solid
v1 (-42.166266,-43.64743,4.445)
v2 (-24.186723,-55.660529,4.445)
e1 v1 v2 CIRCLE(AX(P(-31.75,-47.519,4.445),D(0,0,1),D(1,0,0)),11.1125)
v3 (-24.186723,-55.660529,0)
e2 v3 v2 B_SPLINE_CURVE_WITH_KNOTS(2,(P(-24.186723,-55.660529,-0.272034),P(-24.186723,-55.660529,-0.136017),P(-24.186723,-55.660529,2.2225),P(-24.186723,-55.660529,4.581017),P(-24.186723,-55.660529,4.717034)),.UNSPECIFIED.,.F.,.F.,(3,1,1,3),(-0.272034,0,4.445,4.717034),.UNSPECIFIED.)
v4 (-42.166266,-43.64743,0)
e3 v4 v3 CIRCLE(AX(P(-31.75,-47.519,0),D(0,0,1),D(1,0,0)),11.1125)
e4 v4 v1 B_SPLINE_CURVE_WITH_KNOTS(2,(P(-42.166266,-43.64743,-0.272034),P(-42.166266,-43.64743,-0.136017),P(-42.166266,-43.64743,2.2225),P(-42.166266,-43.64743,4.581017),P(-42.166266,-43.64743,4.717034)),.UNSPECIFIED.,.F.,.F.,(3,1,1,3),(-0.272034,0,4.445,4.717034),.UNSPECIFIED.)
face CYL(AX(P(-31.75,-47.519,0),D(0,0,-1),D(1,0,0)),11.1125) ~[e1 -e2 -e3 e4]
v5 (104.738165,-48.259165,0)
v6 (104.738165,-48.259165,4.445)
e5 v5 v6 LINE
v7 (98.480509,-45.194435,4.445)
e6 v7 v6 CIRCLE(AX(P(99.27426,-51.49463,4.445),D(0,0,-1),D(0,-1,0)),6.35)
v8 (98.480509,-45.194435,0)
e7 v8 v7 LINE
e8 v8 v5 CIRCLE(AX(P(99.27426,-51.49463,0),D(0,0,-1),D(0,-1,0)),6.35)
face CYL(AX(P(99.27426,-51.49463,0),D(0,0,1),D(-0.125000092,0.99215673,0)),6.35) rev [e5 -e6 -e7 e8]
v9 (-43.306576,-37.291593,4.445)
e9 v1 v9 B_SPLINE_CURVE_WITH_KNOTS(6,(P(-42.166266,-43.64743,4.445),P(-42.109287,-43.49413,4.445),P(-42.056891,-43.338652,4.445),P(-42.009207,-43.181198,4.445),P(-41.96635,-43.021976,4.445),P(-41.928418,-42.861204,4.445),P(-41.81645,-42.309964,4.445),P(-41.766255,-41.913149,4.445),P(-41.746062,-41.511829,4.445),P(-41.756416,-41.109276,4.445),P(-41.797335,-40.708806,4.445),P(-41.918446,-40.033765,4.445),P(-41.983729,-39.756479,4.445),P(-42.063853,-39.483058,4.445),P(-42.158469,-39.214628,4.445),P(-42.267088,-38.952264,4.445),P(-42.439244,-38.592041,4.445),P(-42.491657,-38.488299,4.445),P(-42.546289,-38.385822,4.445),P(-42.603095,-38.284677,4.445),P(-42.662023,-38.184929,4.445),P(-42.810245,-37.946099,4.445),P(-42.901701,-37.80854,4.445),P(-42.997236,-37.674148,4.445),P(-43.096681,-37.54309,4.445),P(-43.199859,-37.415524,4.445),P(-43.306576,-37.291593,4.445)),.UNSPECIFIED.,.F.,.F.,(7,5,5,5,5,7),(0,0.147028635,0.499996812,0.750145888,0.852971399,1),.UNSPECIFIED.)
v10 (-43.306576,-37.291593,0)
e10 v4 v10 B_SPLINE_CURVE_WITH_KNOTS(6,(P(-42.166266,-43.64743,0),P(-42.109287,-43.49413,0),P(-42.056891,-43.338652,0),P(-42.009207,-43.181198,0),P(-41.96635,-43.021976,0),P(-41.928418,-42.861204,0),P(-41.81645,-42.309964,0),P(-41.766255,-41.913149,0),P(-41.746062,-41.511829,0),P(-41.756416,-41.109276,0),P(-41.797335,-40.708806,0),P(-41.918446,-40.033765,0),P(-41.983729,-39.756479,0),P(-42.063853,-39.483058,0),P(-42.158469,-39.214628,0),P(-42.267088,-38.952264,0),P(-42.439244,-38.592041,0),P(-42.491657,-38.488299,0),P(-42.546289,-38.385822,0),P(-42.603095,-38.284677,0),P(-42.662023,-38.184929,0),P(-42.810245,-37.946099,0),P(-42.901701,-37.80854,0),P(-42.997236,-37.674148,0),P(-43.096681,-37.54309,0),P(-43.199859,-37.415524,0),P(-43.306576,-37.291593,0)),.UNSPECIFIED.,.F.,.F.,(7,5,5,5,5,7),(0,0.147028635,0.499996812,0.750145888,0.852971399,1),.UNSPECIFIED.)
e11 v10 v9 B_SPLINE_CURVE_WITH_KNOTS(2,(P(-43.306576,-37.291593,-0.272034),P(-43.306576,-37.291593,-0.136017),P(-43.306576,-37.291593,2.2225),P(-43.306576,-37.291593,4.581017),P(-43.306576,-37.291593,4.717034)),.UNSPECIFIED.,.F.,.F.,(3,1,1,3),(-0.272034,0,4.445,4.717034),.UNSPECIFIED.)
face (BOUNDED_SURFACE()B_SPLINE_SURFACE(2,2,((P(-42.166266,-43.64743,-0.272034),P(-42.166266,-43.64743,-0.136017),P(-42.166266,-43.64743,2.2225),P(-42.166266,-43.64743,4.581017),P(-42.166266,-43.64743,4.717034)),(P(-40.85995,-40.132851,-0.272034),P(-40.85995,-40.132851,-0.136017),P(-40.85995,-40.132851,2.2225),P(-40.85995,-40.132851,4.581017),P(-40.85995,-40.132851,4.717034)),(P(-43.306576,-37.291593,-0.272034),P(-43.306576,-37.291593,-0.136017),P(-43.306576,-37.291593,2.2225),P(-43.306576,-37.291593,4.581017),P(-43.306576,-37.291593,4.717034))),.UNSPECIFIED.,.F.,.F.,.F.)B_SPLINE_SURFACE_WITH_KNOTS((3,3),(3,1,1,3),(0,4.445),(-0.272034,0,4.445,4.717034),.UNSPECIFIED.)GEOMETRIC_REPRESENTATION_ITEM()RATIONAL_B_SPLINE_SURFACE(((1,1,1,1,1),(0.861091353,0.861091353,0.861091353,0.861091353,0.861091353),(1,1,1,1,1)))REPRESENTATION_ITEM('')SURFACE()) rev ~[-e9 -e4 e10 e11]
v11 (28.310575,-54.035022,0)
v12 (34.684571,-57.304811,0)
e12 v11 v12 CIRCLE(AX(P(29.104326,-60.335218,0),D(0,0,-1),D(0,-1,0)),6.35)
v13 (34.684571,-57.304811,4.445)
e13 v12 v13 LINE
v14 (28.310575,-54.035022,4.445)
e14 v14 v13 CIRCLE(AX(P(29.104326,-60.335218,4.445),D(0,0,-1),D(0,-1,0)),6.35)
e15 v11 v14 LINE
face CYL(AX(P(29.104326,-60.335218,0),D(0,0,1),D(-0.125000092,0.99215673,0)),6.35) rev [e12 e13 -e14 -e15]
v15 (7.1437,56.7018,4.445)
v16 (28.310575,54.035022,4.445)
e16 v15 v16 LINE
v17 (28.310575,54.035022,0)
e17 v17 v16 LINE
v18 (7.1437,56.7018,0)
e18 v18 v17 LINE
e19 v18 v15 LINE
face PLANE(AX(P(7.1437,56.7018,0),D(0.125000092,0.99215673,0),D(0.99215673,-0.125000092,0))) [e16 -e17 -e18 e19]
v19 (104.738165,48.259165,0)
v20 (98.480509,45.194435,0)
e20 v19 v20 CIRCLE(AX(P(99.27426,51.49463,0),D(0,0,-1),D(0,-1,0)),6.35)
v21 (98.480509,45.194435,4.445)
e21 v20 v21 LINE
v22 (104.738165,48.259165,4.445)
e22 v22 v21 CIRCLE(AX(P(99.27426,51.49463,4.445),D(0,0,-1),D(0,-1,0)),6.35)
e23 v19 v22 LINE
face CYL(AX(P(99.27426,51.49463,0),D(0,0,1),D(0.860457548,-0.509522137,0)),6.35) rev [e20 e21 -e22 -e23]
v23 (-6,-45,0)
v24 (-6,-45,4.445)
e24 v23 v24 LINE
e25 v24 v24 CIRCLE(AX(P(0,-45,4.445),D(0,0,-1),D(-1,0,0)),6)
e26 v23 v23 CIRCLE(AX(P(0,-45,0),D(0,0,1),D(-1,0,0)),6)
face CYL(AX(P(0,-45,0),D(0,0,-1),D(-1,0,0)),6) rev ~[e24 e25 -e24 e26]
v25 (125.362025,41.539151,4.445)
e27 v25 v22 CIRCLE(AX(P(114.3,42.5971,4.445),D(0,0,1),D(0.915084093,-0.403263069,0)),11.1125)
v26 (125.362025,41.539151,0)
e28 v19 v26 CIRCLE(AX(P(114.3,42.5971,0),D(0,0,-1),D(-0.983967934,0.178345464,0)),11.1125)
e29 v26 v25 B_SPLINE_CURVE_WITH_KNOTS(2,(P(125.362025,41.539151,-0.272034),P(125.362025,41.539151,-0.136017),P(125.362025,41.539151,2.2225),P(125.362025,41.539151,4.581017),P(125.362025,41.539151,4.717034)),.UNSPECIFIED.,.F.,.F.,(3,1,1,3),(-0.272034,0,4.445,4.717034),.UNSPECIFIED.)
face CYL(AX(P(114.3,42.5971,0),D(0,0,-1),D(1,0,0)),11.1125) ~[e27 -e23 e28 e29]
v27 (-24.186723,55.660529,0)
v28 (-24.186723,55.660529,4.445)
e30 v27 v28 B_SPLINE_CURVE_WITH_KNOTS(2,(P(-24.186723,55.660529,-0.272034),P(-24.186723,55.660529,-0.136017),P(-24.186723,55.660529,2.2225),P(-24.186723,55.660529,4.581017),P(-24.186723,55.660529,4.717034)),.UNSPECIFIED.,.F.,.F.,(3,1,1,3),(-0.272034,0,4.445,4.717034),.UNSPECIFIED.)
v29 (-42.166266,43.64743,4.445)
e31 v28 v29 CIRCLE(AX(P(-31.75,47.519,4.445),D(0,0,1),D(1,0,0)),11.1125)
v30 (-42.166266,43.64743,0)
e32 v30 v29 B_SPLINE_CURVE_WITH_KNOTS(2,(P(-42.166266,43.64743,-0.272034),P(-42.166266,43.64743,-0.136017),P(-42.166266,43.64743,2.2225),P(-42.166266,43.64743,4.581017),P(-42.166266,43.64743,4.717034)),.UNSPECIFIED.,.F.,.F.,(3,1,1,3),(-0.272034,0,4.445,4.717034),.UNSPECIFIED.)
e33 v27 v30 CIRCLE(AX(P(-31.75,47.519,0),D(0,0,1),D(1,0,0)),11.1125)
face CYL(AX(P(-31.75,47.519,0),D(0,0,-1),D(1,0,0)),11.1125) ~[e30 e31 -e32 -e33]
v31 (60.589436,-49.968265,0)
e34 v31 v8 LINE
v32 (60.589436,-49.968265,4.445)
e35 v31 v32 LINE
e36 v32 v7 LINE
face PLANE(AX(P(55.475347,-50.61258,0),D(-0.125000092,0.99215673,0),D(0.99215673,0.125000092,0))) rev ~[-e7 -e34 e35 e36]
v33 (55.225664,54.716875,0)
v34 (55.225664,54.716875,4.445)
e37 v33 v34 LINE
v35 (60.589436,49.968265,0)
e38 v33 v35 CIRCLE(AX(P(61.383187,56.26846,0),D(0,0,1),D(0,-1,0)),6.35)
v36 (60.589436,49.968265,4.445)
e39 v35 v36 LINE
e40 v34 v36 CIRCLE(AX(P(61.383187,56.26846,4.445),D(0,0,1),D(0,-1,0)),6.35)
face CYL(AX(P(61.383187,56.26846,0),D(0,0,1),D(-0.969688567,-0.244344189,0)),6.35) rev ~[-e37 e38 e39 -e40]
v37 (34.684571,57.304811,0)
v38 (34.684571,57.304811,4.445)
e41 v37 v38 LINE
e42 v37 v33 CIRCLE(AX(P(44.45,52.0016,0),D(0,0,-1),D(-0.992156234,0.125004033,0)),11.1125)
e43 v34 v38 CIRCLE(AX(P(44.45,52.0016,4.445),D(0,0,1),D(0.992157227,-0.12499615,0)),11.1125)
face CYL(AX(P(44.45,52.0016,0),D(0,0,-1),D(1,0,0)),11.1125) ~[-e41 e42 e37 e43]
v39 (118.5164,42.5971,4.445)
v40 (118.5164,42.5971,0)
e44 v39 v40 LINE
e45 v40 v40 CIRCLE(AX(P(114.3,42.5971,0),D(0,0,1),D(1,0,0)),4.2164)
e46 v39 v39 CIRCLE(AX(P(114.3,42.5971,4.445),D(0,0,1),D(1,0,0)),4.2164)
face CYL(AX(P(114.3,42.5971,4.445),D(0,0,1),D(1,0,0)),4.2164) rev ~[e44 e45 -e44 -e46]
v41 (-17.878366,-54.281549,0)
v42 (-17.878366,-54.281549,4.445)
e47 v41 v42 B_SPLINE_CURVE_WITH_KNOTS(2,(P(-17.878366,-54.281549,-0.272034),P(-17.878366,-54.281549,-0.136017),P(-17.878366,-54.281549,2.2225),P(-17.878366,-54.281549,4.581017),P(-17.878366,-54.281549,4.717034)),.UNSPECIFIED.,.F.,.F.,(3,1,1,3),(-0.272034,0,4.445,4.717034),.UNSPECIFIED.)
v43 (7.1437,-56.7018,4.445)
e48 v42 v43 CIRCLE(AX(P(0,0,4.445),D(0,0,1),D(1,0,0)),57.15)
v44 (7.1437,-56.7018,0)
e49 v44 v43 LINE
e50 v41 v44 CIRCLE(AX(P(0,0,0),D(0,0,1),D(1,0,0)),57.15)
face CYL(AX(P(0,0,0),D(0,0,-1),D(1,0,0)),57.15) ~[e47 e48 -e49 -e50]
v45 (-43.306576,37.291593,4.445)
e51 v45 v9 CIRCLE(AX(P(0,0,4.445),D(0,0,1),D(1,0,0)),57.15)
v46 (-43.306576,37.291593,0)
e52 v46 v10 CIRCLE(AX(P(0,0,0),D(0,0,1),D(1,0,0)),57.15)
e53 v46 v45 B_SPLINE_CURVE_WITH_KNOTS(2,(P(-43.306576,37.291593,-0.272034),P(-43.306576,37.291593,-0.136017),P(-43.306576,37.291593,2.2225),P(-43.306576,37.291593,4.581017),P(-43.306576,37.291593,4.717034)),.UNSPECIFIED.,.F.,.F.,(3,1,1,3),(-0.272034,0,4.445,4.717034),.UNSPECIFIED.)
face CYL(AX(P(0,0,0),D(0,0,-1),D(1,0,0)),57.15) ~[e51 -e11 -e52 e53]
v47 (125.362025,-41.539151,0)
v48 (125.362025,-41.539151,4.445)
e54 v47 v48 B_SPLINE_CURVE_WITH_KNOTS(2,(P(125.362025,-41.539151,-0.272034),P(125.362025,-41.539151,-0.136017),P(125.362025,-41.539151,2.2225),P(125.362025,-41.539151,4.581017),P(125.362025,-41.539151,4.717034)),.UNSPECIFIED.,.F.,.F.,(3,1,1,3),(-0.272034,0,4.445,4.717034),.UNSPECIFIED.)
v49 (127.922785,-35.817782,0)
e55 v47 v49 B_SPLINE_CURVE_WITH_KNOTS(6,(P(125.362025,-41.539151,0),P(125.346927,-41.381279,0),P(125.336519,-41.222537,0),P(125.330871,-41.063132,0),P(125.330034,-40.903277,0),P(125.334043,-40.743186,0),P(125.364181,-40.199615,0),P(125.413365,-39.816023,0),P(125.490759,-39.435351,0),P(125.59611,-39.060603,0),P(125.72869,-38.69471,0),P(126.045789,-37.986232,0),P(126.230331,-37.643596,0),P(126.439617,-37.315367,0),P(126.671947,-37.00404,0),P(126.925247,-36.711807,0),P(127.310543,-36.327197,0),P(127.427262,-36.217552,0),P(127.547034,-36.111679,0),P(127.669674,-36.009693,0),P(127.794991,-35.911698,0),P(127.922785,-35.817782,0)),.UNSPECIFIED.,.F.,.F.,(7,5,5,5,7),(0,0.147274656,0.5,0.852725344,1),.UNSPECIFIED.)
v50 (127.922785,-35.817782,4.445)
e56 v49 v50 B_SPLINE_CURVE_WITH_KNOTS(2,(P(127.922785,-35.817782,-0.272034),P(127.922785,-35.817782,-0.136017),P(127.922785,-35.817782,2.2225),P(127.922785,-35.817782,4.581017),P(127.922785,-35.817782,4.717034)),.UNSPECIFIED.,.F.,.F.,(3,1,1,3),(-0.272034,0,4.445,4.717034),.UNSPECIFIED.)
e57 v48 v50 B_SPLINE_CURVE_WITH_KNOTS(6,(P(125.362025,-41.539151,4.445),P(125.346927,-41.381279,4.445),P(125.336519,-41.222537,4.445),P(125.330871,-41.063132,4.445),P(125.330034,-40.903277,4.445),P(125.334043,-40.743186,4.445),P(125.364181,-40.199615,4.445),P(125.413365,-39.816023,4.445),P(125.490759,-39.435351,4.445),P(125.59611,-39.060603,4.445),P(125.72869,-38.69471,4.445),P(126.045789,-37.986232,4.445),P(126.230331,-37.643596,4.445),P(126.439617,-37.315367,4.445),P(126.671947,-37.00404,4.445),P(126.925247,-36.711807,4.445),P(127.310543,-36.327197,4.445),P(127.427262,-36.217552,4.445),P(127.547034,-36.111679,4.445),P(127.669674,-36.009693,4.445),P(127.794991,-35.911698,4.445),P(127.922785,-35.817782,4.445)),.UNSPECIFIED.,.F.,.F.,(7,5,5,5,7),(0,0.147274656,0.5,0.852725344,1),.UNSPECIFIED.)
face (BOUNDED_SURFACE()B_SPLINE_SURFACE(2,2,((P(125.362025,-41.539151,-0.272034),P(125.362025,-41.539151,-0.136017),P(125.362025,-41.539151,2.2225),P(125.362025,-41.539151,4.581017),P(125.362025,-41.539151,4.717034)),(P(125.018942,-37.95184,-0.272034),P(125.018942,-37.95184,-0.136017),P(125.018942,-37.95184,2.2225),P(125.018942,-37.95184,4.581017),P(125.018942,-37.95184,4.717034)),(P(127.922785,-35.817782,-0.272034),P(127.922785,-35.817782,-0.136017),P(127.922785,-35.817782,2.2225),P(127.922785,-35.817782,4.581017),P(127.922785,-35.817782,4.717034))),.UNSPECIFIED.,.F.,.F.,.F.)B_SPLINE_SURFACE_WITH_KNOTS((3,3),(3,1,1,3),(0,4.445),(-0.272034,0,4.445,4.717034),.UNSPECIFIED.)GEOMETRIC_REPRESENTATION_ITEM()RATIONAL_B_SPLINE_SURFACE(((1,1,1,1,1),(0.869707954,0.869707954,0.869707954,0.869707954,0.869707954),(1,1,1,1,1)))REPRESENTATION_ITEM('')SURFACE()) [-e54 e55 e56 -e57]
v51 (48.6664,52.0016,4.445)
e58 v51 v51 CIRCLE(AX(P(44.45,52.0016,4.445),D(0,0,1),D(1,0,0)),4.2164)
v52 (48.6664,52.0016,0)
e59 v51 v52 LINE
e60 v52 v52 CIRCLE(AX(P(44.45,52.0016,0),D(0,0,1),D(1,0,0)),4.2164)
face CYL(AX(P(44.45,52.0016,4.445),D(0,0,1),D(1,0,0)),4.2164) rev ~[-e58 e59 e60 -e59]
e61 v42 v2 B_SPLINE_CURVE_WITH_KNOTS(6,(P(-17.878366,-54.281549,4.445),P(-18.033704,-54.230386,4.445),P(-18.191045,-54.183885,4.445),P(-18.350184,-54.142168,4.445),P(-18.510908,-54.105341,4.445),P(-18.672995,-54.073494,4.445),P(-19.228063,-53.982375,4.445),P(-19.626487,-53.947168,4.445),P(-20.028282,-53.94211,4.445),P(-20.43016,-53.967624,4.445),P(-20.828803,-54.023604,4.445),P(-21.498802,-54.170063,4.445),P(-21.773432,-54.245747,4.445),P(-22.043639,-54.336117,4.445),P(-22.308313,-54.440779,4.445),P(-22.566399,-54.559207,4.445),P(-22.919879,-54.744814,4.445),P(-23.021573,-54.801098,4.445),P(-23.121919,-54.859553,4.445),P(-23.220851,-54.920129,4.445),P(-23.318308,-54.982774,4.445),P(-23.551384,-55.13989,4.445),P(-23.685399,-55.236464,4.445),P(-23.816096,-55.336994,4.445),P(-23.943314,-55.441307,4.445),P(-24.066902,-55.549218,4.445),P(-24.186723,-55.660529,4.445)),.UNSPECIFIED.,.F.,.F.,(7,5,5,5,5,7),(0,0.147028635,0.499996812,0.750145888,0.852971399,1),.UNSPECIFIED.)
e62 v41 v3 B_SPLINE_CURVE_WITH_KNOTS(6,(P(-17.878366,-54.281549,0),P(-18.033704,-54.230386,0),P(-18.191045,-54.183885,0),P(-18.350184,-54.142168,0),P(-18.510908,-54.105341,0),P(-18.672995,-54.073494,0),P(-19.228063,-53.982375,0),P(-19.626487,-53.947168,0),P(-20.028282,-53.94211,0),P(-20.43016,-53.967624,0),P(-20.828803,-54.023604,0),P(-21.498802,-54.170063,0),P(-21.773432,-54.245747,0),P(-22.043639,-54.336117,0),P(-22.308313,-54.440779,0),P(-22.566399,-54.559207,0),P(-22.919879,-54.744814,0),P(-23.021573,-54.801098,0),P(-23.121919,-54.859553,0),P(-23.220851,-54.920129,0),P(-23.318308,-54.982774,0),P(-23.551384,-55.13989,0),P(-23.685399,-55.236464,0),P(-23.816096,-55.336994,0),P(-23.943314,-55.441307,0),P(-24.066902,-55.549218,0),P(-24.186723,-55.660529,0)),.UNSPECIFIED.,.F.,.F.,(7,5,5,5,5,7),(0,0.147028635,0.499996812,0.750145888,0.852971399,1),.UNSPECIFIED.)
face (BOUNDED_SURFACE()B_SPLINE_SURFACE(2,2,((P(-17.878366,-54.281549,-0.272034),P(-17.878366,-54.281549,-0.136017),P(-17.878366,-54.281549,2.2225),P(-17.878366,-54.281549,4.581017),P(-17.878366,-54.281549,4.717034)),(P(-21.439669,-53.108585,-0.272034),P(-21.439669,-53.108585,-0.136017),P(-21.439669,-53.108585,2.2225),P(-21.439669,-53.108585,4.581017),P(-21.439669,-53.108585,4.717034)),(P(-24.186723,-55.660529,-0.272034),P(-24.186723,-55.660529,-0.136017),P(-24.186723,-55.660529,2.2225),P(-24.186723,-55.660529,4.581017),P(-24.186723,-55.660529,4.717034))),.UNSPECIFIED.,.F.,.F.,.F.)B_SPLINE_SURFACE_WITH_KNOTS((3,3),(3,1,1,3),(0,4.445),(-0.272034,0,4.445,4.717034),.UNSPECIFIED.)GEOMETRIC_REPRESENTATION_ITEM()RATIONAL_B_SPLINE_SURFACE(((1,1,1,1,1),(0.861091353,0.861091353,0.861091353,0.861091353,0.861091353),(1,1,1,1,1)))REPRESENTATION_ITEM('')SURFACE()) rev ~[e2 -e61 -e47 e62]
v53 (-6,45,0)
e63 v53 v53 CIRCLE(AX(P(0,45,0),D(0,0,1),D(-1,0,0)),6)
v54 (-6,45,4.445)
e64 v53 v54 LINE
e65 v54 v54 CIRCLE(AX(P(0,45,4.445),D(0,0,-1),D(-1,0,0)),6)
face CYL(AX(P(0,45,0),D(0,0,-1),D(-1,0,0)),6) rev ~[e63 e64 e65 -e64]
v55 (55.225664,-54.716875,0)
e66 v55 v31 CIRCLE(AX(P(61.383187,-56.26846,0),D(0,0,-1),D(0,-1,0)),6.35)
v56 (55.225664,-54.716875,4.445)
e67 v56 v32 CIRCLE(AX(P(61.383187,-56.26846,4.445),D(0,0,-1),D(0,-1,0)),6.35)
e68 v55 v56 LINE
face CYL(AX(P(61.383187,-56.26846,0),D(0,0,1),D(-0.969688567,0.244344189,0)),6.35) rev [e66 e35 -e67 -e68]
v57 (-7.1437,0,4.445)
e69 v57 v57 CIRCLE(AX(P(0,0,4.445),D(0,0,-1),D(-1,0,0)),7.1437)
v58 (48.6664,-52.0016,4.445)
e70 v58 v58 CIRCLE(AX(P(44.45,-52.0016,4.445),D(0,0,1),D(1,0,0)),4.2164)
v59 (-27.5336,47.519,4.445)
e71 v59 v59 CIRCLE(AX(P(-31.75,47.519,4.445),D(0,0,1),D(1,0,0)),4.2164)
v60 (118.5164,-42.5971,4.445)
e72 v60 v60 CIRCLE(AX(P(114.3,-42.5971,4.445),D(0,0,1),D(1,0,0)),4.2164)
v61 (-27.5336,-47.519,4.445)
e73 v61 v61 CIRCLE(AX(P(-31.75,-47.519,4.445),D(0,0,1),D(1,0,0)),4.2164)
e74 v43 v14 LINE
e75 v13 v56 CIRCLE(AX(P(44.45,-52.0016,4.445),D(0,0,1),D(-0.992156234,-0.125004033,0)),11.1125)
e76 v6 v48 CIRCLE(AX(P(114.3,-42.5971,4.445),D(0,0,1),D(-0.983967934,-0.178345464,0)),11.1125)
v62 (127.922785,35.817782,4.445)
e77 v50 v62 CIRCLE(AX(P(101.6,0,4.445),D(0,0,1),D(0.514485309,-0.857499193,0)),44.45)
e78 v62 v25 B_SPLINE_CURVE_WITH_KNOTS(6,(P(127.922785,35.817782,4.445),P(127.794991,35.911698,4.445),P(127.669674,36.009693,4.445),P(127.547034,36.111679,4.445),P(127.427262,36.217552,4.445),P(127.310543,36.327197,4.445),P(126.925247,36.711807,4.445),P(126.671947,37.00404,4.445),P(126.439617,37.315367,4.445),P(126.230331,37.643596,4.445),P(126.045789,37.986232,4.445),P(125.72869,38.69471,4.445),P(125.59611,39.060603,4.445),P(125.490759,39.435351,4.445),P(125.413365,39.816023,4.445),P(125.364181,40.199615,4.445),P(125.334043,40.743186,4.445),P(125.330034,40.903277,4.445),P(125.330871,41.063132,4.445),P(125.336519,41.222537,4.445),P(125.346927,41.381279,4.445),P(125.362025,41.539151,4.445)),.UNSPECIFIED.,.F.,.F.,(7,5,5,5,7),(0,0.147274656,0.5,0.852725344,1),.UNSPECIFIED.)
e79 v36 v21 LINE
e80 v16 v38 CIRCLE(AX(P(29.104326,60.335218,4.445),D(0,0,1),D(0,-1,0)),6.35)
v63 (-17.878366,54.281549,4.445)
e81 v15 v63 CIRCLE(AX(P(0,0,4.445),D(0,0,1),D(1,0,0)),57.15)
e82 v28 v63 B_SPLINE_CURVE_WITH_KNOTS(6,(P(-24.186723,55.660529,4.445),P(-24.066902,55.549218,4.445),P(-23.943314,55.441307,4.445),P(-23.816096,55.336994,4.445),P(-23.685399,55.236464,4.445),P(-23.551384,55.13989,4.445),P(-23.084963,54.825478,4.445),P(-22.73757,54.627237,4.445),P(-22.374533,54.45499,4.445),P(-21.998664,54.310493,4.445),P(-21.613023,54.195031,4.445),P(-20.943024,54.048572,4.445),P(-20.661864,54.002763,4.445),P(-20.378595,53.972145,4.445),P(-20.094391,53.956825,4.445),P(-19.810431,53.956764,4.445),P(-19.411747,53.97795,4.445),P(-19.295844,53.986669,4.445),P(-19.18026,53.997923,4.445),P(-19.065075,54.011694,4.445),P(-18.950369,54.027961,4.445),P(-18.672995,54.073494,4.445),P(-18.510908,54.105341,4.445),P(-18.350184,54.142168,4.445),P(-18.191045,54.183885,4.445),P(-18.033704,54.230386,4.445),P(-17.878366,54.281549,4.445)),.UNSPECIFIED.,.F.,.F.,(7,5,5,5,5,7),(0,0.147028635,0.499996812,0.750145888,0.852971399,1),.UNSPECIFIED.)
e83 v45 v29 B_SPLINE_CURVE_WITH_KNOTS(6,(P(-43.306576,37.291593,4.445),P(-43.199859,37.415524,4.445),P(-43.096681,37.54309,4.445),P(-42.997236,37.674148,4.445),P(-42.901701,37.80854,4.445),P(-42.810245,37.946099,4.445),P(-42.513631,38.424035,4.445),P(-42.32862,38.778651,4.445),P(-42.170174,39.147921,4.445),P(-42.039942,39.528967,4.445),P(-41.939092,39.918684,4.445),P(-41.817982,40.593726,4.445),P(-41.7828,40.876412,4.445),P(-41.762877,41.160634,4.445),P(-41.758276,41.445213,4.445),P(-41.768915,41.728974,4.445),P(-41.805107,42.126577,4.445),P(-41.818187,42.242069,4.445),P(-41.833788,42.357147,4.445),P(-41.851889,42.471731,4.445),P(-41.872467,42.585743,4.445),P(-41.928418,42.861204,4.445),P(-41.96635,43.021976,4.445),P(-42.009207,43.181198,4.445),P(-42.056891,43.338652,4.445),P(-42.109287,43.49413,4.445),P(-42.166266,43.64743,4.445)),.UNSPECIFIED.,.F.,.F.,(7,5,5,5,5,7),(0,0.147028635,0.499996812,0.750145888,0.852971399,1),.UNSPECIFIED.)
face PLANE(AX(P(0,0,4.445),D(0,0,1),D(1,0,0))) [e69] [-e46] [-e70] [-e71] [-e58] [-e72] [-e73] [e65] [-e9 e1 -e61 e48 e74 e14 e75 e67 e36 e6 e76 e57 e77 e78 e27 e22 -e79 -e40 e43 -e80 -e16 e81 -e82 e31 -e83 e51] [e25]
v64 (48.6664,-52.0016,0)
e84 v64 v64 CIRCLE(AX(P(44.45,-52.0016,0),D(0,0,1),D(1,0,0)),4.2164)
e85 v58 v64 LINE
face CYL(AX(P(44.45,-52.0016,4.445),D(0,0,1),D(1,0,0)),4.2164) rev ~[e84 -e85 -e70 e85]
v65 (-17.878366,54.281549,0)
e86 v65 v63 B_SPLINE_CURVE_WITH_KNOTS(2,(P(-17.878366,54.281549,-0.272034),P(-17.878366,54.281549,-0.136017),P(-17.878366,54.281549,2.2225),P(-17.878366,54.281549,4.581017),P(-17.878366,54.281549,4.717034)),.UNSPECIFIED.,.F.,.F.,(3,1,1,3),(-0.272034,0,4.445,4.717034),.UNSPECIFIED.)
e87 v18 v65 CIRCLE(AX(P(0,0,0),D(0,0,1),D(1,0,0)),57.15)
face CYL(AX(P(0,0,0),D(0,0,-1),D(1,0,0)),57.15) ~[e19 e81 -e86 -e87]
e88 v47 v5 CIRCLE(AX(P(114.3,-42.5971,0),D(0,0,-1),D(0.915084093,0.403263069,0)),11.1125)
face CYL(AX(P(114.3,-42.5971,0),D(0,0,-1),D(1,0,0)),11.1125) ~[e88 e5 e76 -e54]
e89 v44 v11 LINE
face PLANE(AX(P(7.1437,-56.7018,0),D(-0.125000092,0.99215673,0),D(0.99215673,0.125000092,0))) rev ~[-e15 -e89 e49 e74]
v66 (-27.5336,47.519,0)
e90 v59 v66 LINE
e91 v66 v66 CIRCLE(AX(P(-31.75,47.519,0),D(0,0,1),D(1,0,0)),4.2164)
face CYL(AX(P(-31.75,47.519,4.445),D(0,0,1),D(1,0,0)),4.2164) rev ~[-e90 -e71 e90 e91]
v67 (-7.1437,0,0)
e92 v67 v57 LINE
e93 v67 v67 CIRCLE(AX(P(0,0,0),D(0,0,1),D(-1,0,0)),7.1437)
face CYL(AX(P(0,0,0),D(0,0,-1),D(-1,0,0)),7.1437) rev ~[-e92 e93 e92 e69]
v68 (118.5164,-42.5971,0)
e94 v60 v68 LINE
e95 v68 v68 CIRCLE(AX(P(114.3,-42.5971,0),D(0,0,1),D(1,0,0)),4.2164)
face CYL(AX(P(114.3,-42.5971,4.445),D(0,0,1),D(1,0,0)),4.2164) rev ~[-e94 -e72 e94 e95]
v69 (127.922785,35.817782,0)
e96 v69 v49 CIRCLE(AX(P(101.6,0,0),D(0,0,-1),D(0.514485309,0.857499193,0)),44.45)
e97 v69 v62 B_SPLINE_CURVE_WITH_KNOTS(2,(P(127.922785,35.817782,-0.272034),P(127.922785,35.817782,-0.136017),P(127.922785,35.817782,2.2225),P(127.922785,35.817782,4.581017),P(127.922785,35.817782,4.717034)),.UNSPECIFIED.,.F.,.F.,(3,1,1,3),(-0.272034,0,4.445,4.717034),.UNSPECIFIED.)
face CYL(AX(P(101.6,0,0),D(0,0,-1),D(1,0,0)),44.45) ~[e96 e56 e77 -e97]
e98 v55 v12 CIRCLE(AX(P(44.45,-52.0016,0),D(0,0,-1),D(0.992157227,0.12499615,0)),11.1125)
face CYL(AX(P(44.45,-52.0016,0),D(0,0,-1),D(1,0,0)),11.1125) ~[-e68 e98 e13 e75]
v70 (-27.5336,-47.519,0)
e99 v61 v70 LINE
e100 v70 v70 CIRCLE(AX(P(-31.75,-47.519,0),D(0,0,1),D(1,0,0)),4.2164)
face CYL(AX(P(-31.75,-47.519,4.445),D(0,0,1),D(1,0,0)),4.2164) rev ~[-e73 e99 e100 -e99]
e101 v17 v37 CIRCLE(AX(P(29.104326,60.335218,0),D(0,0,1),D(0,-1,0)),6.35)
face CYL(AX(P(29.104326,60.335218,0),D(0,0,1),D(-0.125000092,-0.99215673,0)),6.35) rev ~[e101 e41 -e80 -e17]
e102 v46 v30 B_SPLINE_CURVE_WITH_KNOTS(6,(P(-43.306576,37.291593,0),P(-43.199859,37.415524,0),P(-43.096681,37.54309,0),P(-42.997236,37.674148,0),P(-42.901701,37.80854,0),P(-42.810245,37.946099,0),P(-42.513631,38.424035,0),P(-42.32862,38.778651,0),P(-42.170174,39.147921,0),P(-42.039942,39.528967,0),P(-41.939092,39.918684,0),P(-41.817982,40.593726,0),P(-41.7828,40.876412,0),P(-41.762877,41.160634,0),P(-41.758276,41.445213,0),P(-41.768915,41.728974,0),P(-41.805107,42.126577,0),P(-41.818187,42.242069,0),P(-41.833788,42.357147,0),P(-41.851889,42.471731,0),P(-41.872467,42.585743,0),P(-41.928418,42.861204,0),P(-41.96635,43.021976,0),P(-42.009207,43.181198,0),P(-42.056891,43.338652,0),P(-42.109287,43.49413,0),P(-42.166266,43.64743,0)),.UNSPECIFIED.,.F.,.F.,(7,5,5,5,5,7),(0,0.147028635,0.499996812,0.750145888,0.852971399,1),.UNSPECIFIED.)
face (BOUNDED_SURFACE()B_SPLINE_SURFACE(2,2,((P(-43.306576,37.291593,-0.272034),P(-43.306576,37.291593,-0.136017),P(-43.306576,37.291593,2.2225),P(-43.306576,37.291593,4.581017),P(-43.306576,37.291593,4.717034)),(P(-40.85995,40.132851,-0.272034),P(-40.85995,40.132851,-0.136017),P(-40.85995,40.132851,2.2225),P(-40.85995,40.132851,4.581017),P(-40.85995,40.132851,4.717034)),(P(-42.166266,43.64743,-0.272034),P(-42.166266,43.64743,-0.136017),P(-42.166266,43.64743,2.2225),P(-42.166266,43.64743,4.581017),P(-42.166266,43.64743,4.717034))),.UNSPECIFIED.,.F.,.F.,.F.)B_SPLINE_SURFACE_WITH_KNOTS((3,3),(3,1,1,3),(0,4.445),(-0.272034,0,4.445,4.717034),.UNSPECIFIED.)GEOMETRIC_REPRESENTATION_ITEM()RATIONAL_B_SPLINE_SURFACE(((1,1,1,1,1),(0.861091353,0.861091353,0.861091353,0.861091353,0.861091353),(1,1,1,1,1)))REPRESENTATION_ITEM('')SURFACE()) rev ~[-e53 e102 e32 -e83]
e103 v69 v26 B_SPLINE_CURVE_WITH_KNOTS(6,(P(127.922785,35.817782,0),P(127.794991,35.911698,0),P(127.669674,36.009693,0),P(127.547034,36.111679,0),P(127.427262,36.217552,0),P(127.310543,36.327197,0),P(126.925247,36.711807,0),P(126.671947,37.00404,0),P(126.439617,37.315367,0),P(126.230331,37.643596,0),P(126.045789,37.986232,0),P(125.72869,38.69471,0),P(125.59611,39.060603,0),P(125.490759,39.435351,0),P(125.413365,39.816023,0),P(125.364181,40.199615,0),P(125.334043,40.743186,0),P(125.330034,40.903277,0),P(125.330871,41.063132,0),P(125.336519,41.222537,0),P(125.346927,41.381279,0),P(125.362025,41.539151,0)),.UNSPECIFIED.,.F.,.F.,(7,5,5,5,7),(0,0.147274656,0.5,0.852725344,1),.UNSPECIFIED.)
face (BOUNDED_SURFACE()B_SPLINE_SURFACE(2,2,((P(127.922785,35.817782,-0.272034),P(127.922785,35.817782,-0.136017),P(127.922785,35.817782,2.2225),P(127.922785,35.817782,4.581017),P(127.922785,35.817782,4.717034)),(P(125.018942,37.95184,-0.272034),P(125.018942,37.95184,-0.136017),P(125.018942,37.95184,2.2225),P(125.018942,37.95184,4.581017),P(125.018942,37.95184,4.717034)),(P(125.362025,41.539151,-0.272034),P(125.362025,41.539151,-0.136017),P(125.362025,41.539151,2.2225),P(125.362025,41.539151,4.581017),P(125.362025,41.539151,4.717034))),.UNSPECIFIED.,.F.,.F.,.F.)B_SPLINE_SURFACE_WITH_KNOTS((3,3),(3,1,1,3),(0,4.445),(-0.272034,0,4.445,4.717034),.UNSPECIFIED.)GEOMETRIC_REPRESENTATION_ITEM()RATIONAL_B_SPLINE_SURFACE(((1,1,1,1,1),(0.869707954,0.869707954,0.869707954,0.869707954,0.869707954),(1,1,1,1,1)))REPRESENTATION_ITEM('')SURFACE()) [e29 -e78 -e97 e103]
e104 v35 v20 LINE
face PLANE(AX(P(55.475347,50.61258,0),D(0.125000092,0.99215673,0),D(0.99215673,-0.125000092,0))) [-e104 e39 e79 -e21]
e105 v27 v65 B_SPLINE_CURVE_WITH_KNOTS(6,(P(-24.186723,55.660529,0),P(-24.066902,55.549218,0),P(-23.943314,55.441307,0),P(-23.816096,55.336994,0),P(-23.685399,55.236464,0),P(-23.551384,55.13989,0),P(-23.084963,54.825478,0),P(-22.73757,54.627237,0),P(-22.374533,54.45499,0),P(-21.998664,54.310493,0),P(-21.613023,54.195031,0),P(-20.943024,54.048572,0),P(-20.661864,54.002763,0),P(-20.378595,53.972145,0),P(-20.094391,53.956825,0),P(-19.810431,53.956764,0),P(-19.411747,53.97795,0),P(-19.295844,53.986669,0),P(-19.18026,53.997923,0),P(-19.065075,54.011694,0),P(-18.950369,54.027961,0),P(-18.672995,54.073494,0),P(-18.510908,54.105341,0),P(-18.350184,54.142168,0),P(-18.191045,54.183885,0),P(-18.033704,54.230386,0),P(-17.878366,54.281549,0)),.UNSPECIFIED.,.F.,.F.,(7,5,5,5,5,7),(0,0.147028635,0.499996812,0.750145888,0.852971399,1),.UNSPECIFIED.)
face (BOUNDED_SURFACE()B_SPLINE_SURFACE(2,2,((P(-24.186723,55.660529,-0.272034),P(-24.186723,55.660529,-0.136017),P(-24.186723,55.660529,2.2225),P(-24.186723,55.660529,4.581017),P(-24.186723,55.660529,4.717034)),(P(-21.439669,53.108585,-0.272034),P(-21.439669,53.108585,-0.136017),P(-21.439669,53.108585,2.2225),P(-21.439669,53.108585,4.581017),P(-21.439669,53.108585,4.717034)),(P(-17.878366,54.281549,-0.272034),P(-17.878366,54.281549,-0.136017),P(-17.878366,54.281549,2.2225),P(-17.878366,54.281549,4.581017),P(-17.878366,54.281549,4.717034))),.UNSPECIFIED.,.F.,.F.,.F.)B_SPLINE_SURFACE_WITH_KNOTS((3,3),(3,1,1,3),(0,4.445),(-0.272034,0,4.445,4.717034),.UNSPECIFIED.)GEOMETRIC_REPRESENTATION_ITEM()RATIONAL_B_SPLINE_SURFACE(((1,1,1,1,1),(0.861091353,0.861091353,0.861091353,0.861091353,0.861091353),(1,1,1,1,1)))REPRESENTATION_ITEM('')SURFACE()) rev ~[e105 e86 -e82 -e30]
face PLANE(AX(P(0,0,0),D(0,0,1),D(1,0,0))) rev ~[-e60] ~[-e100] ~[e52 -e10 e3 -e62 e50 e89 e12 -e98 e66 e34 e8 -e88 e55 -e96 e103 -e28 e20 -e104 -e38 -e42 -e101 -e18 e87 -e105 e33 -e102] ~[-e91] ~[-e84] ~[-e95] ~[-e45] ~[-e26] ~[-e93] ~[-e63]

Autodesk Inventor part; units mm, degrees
ref_plane "YZ Plane" through (0, 0, 0) normal (1, 0, 0) x (0, 1, 0)
ref_plane "XZ Plane" through (0, 0, 0) normal (0, 1, 0) x (-1, 0, 0)
ref_plane "XY Plane" through (0, 0, 0) normal (0, 0, 1) x (1, 0, 0)
sketch "Boceto1" plane through (0, 0, 0) normal (0, 0, 1) x (1, 0, 0)
  circle A0 centre (0, 0) radius 57.15
  circle A1 centre (101.6, 0) radius 44.45
  circle A2 centre (-31.75, 47.519) radius 11.1125
  circle A3 centre (-31.75, -47.519) radius 11.1125
  circle A4 centre (114.3, 42.5971) radius 11.1125
  circle A5 centre (114.3, -42.5971) radius 11.1125
  line L0 (7.1437, 56.7018) -> (107.1562, 44.1014)
  circle A6 centre (44.45, 52.0016) radius 11.1125
  line L1 (7.1437, -56.7018) -> (107.1562, -44.1014)
  circle A7 centre (44.45, -52.0016) radius 11.1125
  dimension "d0" = 114.3
  dimension "d1" = 88.9
  dimension "d2" = 203.2
  dimension "d3" = 22.225
  dimension "d4" = 22.225
  dimension "d7" = 22.225
  dimension "d8" = 22.225
  dimension "d11" = 22.225
  dimension "d13" = 0
  dimension "d14" = 22.225
  dimension "d27" = 12.7
  dimension "d28" = 12.7
  dimension "d29" = 44.45
  dimension "d30" = 44.45
  dimension "d31" = 31.75
  dimension "d32" = 31.75
extrude "Extrusión1" add sketch "Boceto1" along normal blind 4.445
sketch "Boceto2" plane through (0, 0, 4.445) normal (0, 0, 1) x (1, 0, 0)
  arc A0 (-21.9537, 52.7651) -> (-40.3458, 40.4764) centre (-31.75, 47.519) ccw projected
  circle A1 centre (-31.75, 47.519) radius 4.2164
  arc A2 (-40.3458, -40.4764) -> (-21.9537, -52.7651) centre (-31.75, -47.519) ccw projected
  circle A3 centre (-31.75, -47.519) radius 4.2164
  arc A4 (33.4247, -53.3907) -> (55.4753, -50.6125) centre (44.45, -52.0016) ccw projected
  circle A5 centre (44.45, -52.0016) radius 4.2164
  arc A6 (55.4753, 50.6125) -> (33.4247, 53.3907) centre (44.45, 52.0016) ccw projected
  circle A7 centre (44.45, 52.0016) radius 4.2164
  arc A8 (124.4689, 38.1158) -> (103.3657, 44.5789) centre (114.3, 42.5971) ccw projected
  circle A9 centre (114.3, 42.5971) radius 4.2164
  arc A10 (103.3657, -44.5789) -> (124.4689, -38.1158) centre (114.3, -42.5971) ccw projected
  circle A11 centre (114.3, -42.5971) radius 4.2164
  point P0 (0, 0)
  dimension "d18" = 8.4328
  dimension "d19" = 8.4328
  dimension "d20" = 8.4328
  dimension "d21" = 8.4328
  dimension "d22" = 8.4328
  dimension "d23" = 8.4328
extrude "Extrusión2" cut sketch "Boceto2" against normal up to surface (4.445 mm away)
fillet "Empalme1" radius 6.35 12 edges at (-21.9537, -52.7651, 2.2225) (-40.3458, -40.4764, 2.2225) (33.4247, -53.3907, 2.2225) (55.4753, -50.6125, 2.2225) (124.4689, -38.1158, 2.2225) (-40.3458, 40.4764, 2.2225) (-21.9537, 52.7651, 2.2225) (33.4247, 53.3907, 2.2225) (55.4753, 50.6125, 2.2225) (103.3657, 44.5789, 2.2225) (124.4689, 38.1158, 2.2225) (103.3657, -44.5789, 2.2225)
sketch "Boceto3" plane through (0, 0, 0) normal (0, 0, -1) x (-1, 0, 0)
  circle A0 centre (0, 0) radius 7.1437
  circle A1 centre (0, -45) radius 6
  circle A2 centre (0, 45) radius 6
  line L0 (0, -45) -> (0, 0)
  line L1 (0, 0) -> (0, 45)
  dimension "d33" = 14.2875
  dimension "d34" = 12
  dimension "d35" = 12
  dimension "d36" = 45
  dimension "d37" = 45
extrude "Extrusión3" cut sketch "Boceto3" against normal up to surface (4.445 mm away)
equation "\"d16\" = t"
equation "\"d18\" = Q"
equation "\"d19\" = Q"
equation "\"d20\" = Q"
equation "\"d21\" = Q"
equation "\"d22\" = Q"
equation "\"d23\" = Q"
equation "\"d33\" = DF"
equation "\"d34\" = NF"
equation "\"d35\" = NF"
equation "\"d36\" = 0.5 * JF"
equation "\"d37\" = 0.5 * JF"
equation "\"t\" = 4.445"
equation "\"Q\" = 8.4328"
equation "\"DF\" = 14.2875"
equation "\"NF\" = 12"
equation "\"JF\" = 90"
properties part number "STEEL SIDE REDUCTION COUNTER PLATE"
